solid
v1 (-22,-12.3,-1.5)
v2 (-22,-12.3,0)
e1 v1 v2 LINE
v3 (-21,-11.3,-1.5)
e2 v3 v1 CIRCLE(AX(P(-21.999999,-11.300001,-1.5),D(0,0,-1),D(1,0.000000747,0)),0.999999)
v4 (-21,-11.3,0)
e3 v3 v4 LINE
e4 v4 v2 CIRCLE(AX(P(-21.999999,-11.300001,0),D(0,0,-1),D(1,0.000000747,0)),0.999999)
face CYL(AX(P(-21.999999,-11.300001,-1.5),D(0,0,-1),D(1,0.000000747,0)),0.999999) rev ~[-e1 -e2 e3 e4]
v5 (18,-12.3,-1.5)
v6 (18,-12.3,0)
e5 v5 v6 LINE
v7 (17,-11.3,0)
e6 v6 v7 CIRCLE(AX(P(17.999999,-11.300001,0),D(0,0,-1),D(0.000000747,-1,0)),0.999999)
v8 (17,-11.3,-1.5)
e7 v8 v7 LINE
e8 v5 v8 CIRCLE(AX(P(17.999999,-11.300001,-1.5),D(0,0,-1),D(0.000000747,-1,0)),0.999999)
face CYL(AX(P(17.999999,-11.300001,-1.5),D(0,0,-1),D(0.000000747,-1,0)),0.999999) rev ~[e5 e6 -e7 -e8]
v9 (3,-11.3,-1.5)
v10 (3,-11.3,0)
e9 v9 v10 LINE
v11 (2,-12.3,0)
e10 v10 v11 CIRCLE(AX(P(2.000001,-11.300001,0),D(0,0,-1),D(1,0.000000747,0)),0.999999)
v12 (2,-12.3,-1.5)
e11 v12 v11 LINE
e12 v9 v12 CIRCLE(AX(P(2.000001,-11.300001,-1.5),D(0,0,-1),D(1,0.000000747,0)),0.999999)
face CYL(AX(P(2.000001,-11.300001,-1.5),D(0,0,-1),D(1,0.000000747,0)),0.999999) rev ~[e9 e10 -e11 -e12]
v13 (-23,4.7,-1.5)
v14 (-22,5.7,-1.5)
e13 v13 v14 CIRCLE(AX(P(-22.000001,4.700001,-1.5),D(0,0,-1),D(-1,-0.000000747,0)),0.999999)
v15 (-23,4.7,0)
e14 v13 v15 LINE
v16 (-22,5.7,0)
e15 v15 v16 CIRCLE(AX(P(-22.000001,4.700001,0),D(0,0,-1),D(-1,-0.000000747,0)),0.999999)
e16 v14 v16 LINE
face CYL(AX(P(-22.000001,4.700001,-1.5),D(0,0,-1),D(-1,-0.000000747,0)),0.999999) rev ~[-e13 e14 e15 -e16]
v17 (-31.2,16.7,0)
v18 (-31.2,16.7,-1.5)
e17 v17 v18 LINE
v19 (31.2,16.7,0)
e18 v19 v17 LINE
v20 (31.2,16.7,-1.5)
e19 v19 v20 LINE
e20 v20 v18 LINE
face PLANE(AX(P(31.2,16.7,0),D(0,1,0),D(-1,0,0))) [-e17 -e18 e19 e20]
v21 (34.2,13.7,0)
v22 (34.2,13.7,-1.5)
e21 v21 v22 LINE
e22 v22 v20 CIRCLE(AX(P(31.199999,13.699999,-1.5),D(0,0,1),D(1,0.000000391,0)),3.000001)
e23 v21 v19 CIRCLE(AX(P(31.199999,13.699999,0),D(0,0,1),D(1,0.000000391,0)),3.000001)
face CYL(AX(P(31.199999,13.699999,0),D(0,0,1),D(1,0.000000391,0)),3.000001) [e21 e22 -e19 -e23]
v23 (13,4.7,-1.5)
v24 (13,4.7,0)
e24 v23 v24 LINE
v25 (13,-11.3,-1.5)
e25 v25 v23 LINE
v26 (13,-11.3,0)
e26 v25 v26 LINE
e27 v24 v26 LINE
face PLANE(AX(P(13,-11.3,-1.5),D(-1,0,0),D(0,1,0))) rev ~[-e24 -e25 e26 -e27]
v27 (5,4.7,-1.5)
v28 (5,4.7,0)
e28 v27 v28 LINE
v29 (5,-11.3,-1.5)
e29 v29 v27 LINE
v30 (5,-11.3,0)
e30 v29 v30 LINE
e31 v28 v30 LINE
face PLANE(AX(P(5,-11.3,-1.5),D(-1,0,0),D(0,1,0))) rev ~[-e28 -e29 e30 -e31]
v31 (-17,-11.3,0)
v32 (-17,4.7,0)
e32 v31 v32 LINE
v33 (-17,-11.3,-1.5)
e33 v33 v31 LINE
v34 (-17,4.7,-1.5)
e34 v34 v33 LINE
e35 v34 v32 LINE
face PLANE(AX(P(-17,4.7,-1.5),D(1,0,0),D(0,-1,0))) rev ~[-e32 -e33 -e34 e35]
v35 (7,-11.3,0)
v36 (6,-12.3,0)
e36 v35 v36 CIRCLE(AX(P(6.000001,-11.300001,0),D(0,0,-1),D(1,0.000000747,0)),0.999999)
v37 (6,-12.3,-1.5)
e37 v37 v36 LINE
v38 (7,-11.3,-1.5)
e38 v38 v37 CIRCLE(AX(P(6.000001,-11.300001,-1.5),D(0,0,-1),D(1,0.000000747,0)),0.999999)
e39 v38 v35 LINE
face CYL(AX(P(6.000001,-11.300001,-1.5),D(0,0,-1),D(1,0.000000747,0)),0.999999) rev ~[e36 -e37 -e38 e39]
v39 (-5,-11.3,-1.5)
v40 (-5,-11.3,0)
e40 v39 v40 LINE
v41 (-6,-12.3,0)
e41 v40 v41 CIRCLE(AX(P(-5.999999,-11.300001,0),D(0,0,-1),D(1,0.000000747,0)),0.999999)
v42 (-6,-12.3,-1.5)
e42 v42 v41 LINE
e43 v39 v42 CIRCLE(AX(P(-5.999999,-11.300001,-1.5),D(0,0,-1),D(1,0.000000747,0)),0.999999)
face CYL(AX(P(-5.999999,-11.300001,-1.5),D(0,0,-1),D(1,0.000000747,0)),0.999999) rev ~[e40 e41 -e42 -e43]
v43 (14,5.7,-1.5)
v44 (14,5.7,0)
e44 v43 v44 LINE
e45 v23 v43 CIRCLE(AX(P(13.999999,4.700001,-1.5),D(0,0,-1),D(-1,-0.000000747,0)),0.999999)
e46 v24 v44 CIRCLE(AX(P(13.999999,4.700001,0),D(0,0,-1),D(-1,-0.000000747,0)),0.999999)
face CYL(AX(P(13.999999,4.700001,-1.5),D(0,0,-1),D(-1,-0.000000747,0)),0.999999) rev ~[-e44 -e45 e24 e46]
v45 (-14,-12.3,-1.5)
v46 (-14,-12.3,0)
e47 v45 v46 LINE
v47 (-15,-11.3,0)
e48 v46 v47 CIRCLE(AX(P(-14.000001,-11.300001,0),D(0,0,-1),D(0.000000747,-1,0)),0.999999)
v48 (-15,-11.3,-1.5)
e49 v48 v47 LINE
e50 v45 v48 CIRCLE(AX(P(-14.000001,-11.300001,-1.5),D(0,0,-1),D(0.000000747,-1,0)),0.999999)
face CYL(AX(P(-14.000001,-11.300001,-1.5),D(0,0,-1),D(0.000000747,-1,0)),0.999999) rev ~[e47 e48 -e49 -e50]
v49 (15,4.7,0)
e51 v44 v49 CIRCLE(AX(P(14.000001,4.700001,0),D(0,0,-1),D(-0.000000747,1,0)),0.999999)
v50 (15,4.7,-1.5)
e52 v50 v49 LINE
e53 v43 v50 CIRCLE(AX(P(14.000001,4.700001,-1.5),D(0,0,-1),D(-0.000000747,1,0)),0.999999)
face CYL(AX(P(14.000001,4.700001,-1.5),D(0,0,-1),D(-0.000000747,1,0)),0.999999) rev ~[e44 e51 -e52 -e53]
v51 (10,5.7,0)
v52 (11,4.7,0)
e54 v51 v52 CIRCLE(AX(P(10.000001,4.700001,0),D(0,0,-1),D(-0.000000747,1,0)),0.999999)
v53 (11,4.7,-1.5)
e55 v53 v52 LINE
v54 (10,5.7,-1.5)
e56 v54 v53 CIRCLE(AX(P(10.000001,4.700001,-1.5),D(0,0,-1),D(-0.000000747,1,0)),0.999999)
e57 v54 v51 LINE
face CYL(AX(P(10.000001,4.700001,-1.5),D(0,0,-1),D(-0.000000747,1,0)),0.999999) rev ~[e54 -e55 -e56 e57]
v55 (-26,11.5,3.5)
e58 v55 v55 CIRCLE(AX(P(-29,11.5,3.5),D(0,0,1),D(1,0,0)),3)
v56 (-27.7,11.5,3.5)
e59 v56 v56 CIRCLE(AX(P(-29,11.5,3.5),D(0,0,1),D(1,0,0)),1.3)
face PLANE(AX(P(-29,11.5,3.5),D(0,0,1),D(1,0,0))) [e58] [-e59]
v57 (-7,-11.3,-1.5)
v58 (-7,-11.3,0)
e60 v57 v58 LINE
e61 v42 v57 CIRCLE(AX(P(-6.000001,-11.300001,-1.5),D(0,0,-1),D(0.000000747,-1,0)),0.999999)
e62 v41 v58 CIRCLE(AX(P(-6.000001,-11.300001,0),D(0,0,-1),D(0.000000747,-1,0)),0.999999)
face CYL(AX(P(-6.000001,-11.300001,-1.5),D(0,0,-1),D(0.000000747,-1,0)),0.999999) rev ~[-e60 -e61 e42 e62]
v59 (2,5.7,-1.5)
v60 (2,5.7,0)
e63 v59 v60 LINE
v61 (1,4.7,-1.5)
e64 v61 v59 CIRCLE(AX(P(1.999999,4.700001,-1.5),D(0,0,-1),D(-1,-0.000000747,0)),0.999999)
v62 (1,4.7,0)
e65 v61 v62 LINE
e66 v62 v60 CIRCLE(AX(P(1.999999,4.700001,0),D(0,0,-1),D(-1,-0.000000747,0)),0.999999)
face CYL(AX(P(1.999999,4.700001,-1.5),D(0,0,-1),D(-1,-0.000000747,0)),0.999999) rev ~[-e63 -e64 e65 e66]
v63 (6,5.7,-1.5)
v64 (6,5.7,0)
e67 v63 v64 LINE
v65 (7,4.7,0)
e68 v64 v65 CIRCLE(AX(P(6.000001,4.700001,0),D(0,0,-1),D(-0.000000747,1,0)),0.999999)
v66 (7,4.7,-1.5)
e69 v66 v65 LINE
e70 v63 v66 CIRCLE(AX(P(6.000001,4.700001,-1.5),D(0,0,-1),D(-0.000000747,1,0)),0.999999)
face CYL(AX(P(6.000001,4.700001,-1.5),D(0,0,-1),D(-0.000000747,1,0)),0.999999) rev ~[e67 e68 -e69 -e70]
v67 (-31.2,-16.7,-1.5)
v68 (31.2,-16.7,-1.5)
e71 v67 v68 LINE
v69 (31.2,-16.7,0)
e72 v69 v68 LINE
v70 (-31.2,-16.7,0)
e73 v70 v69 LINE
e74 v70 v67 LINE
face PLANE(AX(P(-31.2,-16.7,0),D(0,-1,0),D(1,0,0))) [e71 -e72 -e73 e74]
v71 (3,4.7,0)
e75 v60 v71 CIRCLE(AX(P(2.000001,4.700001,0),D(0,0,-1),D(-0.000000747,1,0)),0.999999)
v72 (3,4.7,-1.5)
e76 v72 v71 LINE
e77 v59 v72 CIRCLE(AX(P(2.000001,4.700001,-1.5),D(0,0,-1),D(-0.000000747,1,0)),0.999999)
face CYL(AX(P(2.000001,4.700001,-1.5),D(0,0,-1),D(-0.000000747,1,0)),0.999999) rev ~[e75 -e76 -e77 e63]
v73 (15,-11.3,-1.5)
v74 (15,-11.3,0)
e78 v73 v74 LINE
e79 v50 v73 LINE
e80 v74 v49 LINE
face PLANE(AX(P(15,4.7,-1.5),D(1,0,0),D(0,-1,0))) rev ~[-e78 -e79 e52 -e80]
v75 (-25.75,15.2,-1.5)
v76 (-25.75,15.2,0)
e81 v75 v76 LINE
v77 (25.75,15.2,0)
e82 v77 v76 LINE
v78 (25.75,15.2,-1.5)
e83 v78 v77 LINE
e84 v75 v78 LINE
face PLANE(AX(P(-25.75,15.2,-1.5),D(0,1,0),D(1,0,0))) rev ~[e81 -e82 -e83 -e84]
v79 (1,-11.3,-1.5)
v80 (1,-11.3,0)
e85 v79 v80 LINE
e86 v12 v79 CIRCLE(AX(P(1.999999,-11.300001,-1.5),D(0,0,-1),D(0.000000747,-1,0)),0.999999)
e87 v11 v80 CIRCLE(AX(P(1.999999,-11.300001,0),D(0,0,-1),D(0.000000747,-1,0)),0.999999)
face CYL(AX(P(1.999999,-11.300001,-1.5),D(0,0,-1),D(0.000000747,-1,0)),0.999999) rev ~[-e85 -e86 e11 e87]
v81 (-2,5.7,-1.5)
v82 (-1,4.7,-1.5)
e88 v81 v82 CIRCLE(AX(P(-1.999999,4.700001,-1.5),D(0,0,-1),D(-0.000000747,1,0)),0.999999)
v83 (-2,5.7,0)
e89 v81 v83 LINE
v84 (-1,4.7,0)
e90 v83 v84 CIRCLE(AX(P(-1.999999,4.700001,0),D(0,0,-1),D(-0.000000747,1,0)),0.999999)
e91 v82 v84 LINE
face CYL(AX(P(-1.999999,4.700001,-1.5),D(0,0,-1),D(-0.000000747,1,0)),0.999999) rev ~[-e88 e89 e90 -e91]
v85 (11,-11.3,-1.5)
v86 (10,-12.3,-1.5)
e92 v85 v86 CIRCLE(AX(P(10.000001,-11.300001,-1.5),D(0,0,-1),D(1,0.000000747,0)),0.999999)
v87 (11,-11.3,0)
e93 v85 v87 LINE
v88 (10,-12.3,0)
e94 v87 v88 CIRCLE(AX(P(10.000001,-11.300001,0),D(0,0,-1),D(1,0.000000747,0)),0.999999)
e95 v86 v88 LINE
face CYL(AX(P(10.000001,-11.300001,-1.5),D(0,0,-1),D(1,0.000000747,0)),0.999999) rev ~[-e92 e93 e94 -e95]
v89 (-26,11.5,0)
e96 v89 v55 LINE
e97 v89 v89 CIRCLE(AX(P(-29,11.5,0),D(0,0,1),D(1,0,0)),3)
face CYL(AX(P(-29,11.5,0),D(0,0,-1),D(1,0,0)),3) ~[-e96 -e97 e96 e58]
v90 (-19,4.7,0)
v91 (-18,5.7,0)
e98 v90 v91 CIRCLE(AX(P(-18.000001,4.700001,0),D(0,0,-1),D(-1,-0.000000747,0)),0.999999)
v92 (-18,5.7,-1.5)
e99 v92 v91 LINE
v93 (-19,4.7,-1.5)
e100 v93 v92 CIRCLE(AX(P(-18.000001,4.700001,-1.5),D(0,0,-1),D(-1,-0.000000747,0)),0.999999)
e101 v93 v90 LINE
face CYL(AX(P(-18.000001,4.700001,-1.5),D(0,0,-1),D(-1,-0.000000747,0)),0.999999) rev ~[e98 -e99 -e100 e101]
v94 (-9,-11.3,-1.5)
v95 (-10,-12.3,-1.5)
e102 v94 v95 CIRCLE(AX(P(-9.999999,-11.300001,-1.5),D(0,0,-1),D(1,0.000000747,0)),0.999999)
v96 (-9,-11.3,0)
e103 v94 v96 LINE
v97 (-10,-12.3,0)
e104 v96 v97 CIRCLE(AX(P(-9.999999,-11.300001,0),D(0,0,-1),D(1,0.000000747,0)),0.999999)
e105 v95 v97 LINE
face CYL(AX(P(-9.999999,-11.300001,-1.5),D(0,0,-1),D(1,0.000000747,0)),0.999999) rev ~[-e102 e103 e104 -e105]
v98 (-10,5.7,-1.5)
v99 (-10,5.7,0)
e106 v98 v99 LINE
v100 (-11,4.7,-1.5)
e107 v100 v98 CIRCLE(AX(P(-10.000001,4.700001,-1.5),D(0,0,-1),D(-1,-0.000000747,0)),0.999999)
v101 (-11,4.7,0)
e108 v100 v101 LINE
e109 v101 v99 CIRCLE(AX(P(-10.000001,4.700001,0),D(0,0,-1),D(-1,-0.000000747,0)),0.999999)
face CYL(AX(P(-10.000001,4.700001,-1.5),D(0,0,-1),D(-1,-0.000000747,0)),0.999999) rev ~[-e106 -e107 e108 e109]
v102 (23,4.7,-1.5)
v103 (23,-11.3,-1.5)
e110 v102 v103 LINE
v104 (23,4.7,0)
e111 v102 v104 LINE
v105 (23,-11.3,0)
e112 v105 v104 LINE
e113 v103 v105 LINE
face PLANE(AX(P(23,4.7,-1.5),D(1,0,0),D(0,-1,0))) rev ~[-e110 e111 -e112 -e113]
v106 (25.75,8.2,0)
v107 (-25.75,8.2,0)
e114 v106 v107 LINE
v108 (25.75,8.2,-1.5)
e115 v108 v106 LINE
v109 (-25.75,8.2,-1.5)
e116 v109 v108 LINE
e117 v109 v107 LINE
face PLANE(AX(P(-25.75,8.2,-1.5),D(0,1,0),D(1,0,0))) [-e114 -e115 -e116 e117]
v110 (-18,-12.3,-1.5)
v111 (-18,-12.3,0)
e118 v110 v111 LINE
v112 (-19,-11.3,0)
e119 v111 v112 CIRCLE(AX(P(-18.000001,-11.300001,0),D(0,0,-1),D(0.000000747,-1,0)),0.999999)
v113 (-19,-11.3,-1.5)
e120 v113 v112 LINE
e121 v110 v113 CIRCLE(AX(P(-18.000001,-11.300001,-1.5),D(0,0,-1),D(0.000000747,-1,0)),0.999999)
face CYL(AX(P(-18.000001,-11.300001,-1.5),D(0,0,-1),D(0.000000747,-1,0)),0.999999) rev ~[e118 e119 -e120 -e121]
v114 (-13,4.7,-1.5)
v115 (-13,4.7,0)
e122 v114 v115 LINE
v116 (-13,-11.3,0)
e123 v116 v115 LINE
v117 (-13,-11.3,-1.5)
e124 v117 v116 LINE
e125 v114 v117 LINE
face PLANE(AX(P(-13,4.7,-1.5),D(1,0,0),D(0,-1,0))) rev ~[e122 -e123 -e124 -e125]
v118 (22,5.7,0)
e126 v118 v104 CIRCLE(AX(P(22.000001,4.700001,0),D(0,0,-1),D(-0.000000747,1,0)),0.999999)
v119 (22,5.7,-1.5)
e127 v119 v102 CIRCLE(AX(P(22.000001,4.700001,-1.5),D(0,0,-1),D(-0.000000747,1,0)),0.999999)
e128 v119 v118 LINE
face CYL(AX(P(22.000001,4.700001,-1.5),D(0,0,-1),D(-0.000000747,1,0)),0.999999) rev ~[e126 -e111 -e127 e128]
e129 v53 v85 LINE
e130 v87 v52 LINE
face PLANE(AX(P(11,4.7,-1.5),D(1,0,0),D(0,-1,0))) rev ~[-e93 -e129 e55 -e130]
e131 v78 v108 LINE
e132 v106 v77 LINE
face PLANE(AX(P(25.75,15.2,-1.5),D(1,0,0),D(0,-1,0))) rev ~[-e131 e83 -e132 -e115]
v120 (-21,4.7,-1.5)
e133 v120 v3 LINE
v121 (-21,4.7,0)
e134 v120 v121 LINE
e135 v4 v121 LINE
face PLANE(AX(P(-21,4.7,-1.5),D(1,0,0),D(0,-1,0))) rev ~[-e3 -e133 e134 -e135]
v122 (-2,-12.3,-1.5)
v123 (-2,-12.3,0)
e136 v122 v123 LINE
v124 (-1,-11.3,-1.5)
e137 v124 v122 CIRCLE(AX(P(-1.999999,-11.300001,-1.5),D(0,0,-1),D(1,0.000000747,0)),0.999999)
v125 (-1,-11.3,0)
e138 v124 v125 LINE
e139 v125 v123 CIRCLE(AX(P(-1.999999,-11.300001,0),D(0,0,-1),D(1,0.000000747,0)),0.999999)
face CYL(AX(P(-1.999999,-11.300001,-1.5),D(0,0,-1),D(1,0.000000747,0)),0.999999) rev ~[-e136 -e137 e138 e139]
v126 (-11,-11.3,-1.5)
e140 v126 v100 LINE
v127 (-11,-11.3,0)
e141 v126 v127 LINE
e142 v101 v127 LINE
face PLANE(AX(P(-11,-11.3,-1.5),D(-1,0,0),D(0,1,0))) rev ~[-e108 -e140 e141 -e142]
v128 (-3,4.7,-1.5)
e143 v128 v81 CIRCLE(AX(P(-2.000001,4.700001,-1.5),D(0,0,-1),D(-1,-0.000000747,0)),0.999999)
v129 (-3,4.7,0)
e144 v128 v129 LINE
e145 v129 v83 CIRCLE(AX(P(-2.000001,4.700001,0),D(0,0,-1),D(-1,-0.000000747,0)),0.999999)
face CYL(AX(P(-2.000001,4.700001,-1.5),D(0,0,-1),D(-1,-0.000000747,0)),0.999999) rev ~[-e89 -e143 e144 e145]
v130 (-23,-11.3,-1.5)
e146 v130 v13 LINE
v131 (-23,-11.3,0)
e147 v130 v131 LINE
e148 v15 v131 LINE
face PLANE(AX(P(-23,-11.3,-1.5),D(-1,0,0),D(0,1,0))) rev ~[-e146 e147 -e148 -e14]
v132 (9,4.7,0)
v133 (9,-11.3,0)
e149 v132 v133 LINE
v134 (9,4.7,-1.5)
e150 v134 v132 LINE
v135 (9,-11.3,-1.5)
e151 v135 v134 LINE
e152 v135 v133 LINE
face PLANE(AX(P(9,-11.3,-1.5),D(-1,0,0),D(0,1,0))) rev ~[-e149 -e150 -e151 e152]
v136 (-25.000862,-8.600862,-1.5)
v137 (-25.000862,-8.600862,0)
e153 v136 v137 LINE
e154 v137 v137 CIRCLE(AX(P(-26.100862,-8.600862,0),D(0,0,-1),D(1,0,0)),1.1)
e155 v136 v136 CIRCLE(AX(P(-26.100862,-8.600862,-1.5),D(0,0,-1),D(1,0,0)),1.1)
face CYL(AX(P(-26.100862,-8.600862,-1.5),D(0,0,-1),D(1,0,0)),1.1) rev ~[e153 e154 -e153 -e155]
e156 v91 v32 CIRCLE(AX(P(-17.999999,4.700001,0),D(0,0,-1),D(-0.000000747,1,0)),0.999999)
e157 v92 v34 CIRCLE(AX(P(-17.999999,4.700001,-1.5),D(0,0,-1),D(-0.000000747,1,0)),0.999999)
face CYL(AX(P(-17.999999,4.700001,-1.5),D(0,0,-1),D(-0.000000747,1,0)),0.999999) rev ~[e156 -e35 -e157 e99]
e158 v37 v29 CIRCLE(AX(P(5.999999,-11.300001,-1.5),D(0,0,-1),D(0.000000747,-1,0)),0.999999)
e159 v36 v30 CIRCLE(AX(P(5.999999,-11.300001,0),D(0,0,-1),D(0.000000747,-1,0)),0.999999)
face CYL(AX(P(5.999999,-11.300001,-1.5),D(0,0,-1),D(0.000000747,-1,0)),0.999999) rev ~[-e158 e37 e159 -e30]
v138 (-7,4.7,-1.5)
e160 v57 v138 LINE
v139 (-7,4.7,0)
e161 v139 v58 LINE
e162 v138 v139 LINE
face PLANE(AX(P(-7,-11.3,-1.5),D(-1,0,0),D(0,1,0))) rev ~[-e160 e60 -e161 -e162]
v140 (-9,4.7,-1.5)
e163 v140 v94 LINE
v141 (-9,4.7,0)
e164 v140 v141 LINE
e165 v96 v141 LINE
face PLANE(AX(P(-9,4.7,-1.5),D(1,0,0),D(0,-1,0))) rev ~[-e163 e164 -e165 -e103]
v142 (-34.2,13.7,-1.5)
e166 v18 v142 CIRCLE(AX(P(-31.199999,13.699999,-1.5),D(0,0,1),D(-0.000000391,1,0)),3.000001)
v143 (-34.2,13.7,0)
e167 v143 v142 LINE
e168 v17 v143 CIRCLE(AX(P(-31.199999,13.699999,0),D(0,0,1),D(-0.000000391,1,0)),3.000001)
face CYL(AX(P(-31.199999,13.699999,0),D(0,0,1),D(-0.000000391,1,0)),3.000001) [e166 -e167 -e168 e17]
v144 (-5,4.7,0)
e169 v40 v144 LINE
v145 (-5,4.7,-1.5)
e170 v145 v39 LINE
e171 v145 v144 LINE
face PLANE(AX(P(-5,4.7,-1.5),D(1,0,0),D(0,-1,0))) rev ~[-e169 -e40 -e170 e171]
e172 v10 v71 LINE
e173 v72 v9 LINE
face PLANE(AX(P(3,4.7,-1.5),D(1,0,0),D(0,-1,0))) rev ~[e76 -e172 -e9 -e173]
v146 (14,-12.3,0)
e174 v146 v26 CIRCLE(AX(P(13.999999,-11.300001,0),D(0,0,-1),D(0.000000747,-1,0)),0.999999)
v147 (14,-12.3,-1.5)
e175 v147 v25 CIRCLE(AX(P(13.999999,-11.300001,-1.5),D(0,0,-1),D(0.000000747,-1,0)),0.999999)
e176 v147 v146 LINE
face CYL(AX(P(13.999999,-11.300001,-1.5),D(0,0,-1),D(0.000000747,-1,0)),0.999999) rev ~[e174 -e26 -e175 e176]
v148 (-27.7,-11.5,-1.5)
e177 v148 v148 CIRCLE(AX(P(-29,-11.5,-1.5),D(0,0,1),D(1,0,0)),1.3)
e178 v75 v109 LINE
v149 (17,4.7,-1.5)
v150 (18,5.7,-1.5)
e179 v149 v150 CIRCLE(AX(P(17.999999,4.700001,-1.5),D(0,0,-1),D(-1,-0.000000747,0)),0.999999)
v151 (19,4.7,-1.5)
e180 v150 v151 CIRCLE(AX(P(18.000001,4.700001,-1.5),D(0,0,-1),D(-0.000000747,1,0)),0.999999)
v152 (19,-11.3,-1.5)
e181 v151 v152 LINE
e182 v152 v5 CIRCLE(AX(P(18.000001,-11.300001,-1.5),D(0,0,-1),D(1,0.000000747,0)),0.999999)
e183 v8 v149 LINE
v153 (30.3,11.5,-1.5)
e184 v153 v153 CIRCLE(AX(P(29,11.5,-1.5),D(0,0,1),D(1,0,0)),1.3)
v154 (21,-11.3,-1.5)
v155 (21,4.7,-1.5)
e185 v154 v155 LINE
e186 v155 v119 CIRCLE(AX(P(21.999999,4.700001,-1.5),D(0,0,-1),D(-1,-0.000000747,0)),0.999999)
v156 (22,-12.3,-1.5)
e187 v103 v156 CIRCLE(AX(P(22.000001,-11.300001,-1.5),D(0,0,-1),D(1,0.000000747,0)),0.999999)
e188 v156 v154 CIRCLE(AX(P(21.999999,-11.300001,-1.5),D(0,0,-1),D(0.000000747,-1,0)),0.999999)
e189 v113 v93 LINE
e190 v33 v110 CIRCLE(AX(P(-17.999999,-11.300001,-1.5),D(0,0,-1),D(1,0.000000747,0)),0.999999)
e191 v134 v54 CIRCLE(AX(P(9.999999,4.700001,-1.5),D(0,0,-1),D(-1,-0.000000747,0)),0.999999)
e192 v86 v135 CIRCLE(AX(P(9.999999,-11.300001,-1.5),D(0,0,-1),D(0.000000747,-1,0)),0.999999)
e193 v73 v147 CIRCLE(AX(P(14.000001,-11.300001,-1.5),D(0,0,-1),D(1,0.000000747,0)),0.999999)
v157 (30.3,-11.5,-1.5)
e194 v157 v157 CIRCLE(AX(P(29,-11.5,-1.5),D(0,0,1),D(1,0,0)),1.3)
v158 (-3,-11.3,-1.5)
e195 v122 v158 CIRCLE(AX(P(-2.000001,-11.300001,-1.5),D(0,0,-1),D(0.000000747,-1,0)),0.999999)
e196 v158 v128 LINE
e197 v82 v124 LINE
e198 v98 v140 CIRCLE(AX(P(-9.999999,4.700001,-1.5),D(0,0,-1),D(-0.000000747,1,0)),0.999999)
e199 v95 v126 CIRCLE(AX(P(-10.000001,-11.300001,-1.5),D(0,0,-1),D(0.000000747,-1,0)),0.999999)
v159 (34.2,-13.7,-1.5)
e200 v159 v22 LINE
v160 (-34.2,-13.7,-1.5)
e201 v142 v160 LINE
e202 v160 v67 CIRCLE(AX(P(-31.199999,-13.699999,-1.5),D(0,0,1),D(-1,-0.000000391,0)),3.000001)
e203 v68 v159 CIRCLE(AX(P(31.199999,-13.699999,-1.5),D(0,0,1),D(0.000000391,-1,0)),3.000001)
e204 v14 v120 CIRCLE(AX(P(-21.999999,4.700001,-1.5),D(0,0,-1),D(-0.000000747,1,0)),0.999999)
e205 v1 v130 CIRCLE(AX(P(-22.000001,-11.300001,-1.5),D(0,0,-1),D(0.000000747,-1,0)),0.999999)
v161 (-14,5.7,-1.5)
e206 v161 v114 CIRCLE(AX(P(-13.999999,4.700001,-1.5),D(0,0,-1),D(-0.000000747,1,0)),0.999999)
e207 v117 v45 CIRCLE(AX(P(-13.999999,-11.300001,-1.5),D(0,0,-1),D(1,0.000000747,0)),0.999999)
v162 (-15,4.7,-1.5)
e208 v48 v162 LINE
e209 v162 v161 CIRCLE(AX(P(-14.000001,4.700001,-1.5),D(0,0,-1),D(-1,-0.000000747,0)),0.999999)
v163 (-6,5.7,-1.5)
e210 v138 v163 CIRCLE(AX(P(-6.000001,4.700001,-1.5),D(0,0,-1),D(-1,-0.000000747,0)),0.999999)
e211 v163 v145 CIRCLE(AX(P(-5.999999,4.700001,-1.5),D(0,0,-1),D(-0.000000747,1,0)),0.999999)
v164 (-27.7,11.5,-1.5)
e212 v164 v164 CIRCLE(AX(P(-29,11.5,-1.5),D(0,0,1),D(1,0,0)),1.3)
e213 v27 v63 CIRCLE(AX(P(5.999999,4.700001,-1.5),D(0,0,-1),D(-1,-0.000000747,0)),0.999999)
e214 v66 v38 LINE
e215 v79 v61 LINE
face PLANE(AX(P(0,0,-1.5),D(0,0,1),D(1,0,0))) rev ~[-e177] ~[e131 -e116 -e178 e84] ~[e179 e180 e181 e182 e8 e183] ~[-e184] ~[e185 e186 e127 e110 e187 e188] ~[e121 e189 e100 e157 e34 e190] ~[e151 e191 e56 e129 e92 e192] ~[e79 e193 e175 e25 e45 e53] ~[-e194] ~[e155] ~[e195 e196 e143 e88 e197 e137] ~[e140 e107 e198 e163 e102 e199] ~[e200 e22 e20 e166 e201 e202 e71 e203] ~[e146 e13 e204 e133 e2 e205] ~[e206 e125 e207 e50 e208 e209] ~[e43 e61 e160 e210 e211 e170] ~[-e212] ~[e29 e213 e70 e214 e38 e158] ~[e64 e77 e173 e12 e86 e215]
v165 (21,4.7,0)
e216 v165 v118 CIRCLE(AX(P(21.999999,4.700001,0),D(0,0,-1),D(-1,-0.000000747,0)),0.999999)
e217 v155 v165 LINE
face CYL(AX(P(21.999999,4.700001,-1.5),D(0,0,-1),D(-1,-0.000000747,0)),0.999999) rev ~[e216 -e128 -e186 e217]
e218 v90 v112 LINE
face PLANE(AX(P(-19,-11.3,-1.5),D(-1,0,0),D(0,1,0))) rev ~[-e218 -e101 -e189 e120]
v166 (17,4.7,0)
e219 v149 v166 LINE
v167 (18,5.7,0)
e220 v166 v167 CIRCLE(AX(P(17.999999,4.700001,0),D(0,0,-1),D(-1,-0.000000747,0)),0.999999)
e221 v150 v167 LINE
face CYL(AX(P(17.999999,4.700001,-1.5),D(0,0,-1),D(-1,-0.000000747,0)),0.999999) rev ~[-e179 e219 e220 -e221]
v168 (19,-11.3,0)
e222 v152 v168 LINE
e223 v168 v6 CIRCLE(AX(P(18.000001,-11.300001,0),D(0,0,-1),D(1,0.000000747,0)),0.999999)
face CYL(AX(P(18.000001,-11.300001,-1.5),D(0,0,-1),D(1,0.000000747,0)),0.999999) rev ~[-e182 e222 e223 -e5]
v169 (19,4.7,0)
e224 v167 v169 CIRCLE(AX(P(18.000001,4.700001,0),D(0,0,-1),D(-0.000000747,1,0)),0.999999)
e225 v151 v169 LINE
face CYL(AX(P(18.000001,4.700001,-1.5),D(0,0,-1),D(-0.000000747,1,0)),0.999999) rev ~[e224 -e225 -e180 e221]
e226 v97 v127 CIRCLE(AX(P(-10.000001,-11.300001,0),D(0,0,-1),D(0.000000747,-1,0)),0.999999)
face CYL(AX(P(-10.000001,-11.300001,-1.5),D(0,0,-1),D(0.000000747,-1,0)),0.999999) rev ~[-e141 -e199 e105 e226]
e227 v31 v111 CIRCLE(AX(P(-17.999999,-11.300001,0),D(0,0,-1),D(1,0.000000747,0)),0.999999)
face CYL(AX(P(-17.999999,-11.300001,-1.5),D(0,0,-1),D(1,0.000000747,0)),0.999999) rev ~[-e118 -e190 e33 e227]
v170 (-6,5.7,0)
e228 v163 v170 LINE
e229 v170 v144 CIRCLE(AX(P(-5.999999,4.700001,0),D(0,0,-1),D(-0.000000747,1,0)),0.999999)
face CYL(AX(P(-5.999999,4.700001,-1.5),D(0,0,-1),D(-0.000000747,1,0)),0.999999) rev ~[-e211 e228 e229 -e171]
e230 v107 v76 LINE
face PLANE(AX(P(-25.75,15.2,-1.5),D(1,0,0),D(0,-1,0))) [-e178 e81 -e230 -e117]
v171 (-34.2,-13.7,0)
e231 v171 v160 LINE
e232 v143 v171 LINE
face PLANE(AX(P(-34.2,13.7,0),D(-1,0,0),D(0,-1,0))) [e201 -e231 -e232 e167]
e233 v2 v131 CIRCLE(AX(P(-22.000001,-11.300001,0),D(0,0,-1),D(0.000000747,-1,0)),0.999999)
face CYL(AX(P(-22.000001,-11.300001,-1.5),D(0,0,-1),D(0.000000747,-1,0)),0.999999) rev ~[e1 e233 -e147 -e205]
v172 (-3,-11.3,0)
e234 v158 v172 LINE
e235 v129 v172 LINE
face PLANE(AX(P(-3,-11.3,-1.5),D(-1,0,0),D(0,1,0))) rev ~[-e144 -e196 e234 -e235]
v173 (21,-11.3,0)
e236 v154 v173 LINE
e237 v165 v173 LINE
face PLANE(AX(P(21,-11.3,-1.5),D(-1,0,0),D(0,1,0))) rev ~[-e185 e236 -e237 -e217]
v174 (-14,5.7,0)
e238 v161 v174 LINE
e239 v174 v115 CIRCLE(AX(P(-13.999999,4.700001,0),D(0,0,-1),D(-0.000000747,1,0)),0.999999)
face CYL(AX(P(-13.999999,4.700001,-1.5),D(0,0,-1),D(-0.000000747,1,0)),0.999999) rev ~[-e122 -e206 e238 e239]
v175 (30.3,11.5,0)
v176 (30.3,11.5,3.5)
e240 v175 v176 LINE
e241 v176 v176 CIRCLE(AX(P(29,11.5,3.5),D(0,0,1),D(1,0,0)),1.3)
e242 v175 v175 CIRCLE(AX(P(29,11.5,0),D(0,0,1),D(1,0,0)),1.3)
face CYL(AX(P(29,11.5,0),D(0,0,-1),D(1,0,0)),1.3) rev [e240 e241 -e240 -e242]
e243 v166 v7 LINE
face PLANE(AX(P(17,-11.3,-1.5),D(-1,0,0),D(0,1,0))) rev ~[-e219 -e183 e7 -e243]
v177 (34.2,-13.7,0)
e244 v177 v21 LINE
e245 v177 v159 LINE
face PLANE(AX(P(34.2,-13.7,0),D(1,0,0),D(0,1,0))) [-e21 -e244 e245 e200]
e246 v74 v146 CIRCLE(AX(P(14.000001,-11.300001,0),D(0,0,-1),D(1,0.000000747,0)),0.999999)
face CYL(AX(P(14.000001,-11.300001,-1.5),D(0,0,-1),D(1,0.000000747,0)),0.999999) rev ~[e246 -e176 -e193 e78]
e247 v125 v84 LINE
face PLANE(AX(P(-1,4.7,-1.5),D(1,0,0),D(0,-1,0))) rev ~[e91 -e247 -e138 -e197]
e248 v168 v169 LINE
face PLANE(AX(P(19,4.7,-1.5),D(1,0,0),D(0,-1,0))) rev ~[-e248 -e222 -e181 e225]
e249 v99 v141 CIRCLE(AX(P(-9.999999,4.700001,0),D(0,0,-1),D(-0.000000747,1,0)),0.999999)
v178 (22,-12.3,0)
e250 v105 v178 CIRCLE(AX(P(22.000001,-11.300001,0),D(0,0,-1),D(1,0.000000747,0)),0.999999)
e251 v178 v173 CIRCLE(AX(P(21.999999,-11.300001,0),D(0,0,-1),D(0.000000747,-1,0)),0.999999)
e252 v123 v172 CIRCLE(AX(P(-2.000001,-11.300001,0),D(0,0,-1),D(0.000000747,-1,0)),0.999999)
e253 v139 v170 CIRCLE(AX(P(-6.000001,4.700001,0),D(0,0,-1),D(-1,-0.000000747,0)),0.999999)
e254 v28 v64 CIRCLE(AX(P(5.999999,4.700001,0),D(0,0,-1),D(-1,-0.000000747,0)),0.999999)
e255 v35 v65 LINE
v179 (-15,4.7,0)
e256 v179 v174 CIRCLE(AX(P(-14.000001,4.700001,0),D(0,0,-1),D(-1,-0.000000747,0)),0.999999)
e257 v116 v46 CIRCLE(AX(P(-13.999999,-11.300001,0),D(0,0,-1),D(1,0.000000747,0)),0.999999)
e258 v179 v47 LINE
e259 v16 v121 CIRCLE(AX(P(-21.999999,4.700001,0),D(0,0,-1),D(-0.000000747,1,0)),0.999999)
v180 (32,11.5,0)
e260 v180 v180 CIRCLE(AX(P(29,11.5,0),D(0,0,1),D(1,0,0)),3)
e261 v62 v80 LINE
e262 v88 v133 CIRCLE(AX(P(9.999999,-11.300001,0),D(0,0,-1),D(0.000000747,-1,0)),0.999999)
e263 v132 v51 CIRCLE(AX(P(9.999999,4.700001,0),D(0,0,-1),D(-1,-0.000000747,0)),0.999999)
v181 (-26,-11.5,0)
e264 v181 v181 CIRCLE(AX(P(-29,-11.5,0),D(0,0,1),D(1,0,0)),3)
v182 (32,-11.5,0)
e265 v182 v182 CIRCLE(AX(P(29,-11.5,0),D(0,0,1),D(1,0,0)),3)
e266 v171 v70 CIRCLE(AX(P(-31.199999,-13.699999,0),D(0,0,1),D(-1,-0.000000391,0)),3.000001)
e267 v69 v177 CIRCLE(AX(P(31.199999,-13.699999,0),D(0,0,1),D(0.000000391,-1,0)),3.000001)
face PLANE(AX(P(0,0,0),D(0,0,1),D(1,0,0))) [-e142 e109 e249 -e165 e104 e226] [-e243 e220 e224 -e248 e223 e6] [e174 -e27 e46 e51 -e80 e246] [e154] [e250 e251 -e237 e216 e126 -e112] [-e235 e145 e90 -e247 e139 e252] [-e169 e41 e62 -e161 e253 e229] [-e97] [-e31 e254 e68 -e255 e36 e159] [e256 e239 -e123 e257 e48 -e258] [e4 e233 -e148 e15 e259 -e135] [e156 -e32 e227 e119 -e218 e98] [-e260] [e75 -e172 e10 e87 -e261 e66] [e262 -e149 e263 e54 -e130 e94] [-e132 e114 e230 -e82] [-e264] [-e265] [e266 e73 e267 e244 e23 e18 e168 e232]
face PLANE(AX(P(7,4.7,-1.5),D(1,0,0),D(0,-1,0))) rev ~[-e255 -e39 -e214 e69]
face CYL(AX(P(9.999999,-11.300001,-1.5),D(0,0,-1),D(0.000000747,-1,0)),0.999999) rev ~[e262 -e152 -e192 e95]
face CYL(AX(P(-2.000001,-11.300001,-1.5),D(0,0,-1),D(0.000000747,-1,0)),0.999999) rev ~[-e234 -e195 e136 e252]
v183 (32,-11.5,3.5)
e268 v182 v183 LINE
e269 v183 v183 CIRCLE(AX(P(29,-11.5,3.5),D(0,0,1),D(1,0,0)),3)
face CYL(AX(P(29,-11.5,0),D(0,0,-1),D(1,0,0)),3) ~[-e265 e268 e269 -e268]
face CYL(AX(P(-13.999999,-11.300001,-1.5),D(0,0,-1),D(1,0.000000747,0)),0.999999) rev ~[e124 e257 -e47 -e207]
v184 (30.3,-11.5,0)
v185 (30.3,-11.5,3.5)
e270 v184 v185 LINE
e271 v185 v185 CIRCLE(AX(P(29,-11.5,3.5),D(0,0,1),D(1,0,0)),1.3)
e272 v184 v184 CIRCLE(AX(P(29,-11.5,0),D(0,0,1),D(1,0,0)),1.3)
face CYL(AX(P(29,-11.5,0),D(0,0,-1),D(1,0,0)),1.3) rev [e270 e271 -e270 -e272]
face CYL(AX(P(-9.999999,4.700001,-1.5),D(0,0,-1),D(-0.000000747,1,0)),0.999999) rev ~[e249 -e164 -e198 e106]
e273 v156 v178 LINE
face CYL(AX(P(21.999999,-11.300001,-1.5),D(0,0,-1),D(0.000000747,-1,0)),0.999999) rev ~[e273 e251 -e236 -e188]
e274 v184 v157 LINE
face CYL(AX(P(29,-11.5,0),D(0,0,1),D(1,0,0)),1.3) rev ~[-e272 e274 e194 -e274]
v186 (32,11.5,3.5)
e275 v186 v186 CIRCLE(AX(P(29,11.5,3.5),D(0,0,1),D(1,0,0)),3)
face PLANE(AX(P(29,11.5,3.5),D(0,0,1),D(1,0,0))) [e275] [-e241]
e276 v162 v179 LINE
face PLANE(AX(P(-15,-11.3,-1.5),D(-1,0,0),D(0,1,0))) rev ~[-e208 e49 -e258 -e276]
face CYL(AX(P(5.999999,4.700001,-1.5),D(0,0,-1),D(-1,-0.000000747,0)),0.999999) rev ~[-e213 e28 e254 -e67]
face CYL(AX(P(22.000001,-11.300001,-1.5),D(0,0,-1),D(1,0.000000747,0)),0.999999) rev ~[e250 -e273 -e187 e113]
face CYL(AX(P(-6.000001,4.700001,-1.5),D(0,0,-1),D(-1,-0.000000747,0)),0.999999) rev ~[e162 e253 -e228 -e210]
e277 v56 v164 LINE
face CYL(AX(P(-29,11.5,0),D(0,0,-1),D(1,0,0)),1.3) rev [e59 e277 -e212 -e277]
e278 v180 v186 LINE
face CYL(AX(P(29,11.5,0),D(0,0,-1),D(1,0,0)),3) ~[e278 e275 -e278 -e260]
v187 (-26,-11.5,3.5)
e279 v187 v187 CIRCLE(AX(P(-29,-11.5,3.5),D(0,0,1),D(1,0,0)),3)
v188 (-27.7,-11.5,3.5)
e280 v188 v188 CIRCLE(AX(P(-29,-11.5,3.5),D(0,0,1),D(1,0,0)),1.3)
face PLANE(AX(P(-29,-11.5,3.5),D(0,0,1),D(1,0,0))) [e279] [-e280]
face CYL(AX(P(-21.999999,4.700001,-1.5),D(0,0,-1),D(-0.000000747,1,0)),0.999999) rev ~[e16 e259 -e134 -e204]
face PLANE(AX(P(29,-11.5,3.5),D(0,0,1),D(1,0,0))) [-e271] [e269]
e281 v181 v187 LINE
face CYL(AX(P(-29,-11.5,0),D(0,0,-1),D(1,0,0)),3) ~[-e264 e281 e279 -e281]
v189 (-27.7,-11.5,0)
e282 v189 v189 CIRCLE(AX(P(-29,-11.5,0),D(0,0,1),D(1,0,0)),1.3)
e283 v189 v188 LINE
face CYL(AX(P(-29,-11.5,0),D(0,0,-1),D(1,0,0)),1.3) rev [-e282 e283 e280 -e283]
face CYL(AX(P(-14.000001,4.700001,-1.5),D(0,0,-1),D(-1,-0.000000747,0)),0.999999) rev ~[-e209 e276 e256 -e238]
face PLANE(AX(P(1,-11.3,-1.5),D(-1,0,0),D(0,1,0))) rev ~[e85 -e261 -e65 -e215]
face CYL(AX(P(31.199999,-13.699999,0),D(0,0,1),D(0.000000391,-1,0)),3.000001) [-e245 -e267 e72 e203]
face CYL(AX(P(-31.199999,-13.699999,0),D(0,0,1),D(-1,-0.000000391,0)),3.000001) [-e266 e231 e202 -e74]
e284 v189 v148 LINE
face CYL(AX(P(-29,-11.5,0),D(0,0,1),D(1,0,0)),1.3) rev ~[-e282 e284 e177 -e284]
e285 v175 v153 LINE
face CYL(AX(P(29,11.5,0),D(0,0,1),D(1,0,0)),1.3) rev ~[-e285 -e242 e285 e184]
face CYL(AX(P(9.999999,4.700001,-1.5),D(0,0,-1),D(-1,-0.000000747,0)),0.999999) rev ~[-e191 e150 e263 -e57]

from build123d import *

# Parameters (mm, degrees)
F0_R     = 3
F0_R_2   = 1.3
F1_DEPTH = 1.5
F2_DEPTH = 3.5
F3_W     = 51.5
F3_H     = 7
F4_DEPTH = 25
F5_R     = 1.1
F6_DEPTH = 25


with BuildPart() as f1:
    # F0 (on Top) → F1 (new body)
    with BuildSketch(Plane.XY):
        with BuildLine():
            Line((31.2, 16.7), (-31.2, 16.7))
            ThreePointArc((-31.2, 16.7), (-33.32132, 15.82132), (-34.2, 13.7))
            Line((-34.2, 13.7), (-34.2, -13.7))
            ThreePointArc((-34.2, -13.7), (-33.32132, -15.82132), (-31.2, -16.7))
            Line((-31.2, -16.7), (31.2, -16.7))
            ThreePointArc((31.2, -16.7), (33.32132, -15.82132), (34.2, -13.7))
            Line((34.2, -13.7), (34.2, 13.7))
            ThreePointArc((34.2, 13.7), (33.32132, 15.82132), (31.2, 16.7))
        make_face()
        with BuildLine():
            ThreePointArc((-32.7, 12.2), (-31.82132, 14.32132), (-29.7, 15.2))
            Line((-29.7, 15.2), (29.7, 15.2))
            ThreePointArc((29.7, 15.2), (31.82132, 14.32132), (32.7, 12.2))
            Line((32.7, 12.2), (32.7, -12.2))
            ThreePointArc((32.7, -12.2), (31.82132, -14.32132), (29.7, -15.2))
            Line((29.7, -15.2), (-29.7, -15.2))
            ThreePointArc((-29.7, -15.2), (-31.82132, -14.32132), (-32.7, -12.2))
            Line((-32.7, -12.2), (-32.7, 12.2))
        make_face(mode=Mode.SUBTRACT)
        with BuildLine():
            Line((29.7, 15.2), (-29.7, 15.2))
            ThreePointArc((-29.7, 15.2), (-31.82132, 14.32132), (-32.7, 12.2))
            Line((-32.7, 12.2), (-32.7, -12.2))
            ThreePointArc((-32.7, -12.2), (-31.82132, -14.32132), (-29.7, -15.2))
            Line((-29.7, -15.2), (29.7, -15.2))
            ThreePointArc((29.7, -15.2), (31.82132, -14.32132), (32.7, -12.2))
            Line((32.7, -12.2), (32.7, 12.2))
            ThreePointArc((32.7, 12.2), (31.82132, 14.32132), (29.7, 15.2))
        make_face()
        with Locations((-29, -11.5)):
            Circle(F0_R, mode=Mode.SUBTRACT)
        with Locations((29, -11.5)):
            Circle(F0_R, mode=Mode.SUBTRACT)
        with Locations((-29, 11.5)):
            Circle(F0_R, mode=Mode.SUBTRACT)
        with Locations((29, 11.5)):
            Circle(F0_R, mode=Mode.SUBTRACT)
        with Locations((-29, 11.5)):
            Circle(F0_R)
        with Locations((-29, 11.5)):
            Circle(F0_R_2, mode=Mode.SUBTRACT)
        with Locations((-29, -11.5)):
            Circle(F0_R)
        with Locations((-29, -11.5)):
            Circle(F0_R_2, mode=Mode.SUBTRACT)
        with Locations((29, -11.5)):
            Circle(F0_R)
        with Locations((29, -11.5)):
            Circle(F0_R_2, mode=Mode.SUBTRACT)
        with Locations((29, 11.5)):
            Circle(F0_R)
        with Locations((29, 11.5)):
            Circle(F0_R_2, mode=Mode.SUBTRACT)
    extrude(amount=-F1_DEPTH)

    # F0 (on Top) → F2 (join)
    with BuildSketch(Plane.XY):
        with Locations((-29, 11.5)):
            Circle(F0_R)
        with Locations((-29, 11.5)):
            Circle(F0_R_2, mode=Mode.SUBTRACT)
        with Locations((-29, -11.5)):
            Circle(F0_R)
        with Locations((-29, -11.5)):
            Circle(F0_R_2, mode=Mode.SUBTRACT)
        with Locations((29, -11.5)):
            Circle(F0_R)
        with Locations((29, -11.5)):
            Circle(F0_R_2, mode=Mode.SUBTRACT)
        with Locations((29, 11.5)):
            Circle(F0_R)
        with Locations((29, 11.5)):
            Circle(F0_R_2, mode=Mode.SUBTRACT)
    extrude(amount=F2_DEPTH)

    # F3 (on face) → F4 (cut)
    with BuildSketch(Plane(origin=(0, 0, -1.5), x_dir=(1, 0, 0), z_dir=(0, 0, -1))):
        with Locations((0, -11.7)):
            Rectangle(F3_W, F3_H)
        with BuildLine():
            ThreePointArc((-22, 12.3), (-22.707107, 12.007107), (-23, 11.3))
            Line((-23, 11.3), (-23, -4.7))
            ThreePointArc((-23, -4.7), (-22.707107, -5.407107), (-22, -5.7))
            ThreePointArc((-22, -5.7), (-21.292893, -5.407107), (-21, -4.7))
            Line((-21, -4.7), (-21, 11.3))
            ThreePointArc((-21, 11.3), (-21.292893, 12.007107), (-22, 12.3))
        make_face()
        with BuildLine():
            ThreePointArc((-18, 12.3), (-18.707107, 12.007107), (-19, 11.3))
            Line((-19, 11.3), (-19, -4.7))
            ThreePointArc((-19, -4.7), (-18.707107, -5.407107), (-18, -5.7))
            ThreePointArc((-18, -5.7), (-17.292893, -5.407107), (-17, -4.7))
            Line((-17, -4.7), (-17, 11.3))
            ThreePointArc((-17, 11.3), (-17.292893, 12.007107), (-18, 12.3))
        make_face()
        with BuildLine():
            ThreePointArc((-14, 12.3), (-14.707107, 12.007107), (-15, 11.3))
            Line((-15, 11.3), (-15, -4.7))
            ThreePointArc((-15, -4.7), (-14.707107, -5.407107), (-14, -5.7))
            ThreePointArc((-14, -5.7), (-13.292893, -5.407107), (-13, -4.7))
            Line((-13, -4.7), (-13, 11.3))
            ThreePointArc((-13, 11.3), (-13.292893, 12.007107), (-14, 12.3))
        make_face()
        with BuildLine():
            ThreePointArc((-10, 12.3), (-10.707107, 12.007107), (-11, 11.3))
            Line((-11, 11.3), (-11, -4.7))
            ThreePointArc((-11, -4.7), (-10.707107, -5.407107), (-10, -5.7))
            ThreePointArc((-10, -5.7), (-9.292893, -5.407107), (-9, -4.7))
            Line((-9, -4.7), (-9, 11.3))
            ThreePointArc((-9, 11.3), (-9.292893, 12.007107), (-10, 12.3))
        make_face()
        with BuildLine():
            ThreePointArc((-6, 12.3), (-6.707107, 12.007107), (-7, 11.3))
            Line((-7, 11.3), (-7, -4.7))
            ThreePointArc((-7, -4.7), (-6.707107, -5.407107), (-6, -5.7))
            ThreePointArc((-6, -5.7), (-5.292893, -5.407107), (-5, -4.7))
            Line((-5, -4.7), (-5, 11.3))
            ThreePointArc((-5, 11.3), (-5.292893, 12.007107), (-6, 12.3))
        make_face()
        with BuildLine():
            ThreePointArc((-2, 12.3), (-2.707107, 12.007107), (-3, 11.3))
            Line((-3, 11.3), (-3, -4.7))
            ThreePointArc((-3, -4.7), (-2.707107, -5.407107), (-2, -5.7))
            ThreePointArc((-2, -5.7), (-1.292893, -5.407107), (-1, -4.7))
            Line((-1, -4.7), (-1, 11.3))
            ThreePointArc((-1, 11.3), (-1.292893, 12.007107), (-2, 12.3))
        make_face()
        with BuildLine():
            ThreePointArc((2, 12.3), (1.292893, 12.007107), (1, 11.3))
            Line((1, 11.3), (1, -4.7))
            ThreePointArc((1, -4.7), (1.292893, -5.407107), (2, -5.7))
            ThreePointArc((2, -5.7), (2.707107, -5.407107), (3, -4.7))
            Line((3, -4.7), (3, 11.3))
            ThreePointArc((3, 11.3), (2.707107, 12.007107), (2, 12.3))
        make_face()
        with BuildLine():
            ThreePointArc((6, 12.3), (5.292893, 12.007107), (5, 11.3))
            Line((5, 11.3), (5, -4.7))
            ThreePointArc((5, -4.7), (5.292893, -5.407107), (6, -5.7))
            ThreePointArc((6, -5.7), (6.707107, -5.407107), (7, -4.7))
            Line((7, -4.7), (7, 11.3))
            ThreePointArc((7, 11.3), (6.707107, 12.007107), (6, 12.3))
        make_face()
        with BuildLine():
            ThreePointArc((10, 12.3), (9.292893, 12.007107), (9, 11.3))
            Line((9, 11.3), (9, -4.7))
            ThreePointArc((9, -4.7), (9.292893, -5.407107), (10, -5.7))
            ThreePointArc((10, -5.7), (10.707107, -5.407107), (11, -4.7))
            Line((11, -4.7), (11, 11.3))
            ThreePointArc((11, 11.3), (10.707107, 12.007107), (10, 12.3))
        make_face()
        with BuildLine():
            ThreePointArc((14, 12.3), (13.292893, 12.007107), (13, 11.3))
            Line((13, 11.3), (13, -4.7))
            ThreePointArc((13, -4.7), (13.292893, -5.407107), (14, -5.7))
            ThreePointArc((14, -5.7), (14.707107, -5.407107), (15, -4.7))
            Line((15, -4.7), (15, 11.3))
            ThreePointArc((15, 11.3), (14.707107, 12.007107), (14, 12.3))
        make_face()
        with BuildLine():
            ThreePointArc((18, 12.3), (17.292893, 12.007107), (17, 11.3))
            Line((17, 11.3), (17, -4.7))
            ThreePointArc((17, -4.7), (17.292893, -5.407107), (18, -5.7))
            ThreePointArc((18, -5.7), (18.707107, -5.407107), (19, -4.7))
            Line((19, -4.7), (19, 11.3))
            ThreePointArc((19, 11.3), (18.707107, 12.007107), (18, 12.3))
        make_face()
        with BuildLine():
            ThreePointArc((22, 12.3), (21.292893, 12.007107), (21, 11.3))
            Line((21, 11.3), (21, -4.7))
            ThreePointArc((21, -4.7), (21.292893, -5.407107), (22, -5.7))
            ThreePointArc((22, -5.7), (22.707107, -5.407107), (23, -4.7))
            Line((23, -4.7), (23, 11.3))
            ThreePointArc((23, 11.3), (22.707107, 12.007107), (22, 12.3))
        make_face()
    extrude(amount=-F4_DEPTH, mode=Mode.SUBTRACT)

    # F5 (on face) → F6 (cut)
    with BuildSketch(Plane(origin=(0, 0, -1.5), x_dir=(1, 0, 0), z_dir=(0, 0, -1))):
        with Locations((-26.100862, 8.600862)):
            Circle(F5_R)
    extrude(amount=-F6_DEPTH, mode=Mode.SUBTRACT)


solid = f1.part
